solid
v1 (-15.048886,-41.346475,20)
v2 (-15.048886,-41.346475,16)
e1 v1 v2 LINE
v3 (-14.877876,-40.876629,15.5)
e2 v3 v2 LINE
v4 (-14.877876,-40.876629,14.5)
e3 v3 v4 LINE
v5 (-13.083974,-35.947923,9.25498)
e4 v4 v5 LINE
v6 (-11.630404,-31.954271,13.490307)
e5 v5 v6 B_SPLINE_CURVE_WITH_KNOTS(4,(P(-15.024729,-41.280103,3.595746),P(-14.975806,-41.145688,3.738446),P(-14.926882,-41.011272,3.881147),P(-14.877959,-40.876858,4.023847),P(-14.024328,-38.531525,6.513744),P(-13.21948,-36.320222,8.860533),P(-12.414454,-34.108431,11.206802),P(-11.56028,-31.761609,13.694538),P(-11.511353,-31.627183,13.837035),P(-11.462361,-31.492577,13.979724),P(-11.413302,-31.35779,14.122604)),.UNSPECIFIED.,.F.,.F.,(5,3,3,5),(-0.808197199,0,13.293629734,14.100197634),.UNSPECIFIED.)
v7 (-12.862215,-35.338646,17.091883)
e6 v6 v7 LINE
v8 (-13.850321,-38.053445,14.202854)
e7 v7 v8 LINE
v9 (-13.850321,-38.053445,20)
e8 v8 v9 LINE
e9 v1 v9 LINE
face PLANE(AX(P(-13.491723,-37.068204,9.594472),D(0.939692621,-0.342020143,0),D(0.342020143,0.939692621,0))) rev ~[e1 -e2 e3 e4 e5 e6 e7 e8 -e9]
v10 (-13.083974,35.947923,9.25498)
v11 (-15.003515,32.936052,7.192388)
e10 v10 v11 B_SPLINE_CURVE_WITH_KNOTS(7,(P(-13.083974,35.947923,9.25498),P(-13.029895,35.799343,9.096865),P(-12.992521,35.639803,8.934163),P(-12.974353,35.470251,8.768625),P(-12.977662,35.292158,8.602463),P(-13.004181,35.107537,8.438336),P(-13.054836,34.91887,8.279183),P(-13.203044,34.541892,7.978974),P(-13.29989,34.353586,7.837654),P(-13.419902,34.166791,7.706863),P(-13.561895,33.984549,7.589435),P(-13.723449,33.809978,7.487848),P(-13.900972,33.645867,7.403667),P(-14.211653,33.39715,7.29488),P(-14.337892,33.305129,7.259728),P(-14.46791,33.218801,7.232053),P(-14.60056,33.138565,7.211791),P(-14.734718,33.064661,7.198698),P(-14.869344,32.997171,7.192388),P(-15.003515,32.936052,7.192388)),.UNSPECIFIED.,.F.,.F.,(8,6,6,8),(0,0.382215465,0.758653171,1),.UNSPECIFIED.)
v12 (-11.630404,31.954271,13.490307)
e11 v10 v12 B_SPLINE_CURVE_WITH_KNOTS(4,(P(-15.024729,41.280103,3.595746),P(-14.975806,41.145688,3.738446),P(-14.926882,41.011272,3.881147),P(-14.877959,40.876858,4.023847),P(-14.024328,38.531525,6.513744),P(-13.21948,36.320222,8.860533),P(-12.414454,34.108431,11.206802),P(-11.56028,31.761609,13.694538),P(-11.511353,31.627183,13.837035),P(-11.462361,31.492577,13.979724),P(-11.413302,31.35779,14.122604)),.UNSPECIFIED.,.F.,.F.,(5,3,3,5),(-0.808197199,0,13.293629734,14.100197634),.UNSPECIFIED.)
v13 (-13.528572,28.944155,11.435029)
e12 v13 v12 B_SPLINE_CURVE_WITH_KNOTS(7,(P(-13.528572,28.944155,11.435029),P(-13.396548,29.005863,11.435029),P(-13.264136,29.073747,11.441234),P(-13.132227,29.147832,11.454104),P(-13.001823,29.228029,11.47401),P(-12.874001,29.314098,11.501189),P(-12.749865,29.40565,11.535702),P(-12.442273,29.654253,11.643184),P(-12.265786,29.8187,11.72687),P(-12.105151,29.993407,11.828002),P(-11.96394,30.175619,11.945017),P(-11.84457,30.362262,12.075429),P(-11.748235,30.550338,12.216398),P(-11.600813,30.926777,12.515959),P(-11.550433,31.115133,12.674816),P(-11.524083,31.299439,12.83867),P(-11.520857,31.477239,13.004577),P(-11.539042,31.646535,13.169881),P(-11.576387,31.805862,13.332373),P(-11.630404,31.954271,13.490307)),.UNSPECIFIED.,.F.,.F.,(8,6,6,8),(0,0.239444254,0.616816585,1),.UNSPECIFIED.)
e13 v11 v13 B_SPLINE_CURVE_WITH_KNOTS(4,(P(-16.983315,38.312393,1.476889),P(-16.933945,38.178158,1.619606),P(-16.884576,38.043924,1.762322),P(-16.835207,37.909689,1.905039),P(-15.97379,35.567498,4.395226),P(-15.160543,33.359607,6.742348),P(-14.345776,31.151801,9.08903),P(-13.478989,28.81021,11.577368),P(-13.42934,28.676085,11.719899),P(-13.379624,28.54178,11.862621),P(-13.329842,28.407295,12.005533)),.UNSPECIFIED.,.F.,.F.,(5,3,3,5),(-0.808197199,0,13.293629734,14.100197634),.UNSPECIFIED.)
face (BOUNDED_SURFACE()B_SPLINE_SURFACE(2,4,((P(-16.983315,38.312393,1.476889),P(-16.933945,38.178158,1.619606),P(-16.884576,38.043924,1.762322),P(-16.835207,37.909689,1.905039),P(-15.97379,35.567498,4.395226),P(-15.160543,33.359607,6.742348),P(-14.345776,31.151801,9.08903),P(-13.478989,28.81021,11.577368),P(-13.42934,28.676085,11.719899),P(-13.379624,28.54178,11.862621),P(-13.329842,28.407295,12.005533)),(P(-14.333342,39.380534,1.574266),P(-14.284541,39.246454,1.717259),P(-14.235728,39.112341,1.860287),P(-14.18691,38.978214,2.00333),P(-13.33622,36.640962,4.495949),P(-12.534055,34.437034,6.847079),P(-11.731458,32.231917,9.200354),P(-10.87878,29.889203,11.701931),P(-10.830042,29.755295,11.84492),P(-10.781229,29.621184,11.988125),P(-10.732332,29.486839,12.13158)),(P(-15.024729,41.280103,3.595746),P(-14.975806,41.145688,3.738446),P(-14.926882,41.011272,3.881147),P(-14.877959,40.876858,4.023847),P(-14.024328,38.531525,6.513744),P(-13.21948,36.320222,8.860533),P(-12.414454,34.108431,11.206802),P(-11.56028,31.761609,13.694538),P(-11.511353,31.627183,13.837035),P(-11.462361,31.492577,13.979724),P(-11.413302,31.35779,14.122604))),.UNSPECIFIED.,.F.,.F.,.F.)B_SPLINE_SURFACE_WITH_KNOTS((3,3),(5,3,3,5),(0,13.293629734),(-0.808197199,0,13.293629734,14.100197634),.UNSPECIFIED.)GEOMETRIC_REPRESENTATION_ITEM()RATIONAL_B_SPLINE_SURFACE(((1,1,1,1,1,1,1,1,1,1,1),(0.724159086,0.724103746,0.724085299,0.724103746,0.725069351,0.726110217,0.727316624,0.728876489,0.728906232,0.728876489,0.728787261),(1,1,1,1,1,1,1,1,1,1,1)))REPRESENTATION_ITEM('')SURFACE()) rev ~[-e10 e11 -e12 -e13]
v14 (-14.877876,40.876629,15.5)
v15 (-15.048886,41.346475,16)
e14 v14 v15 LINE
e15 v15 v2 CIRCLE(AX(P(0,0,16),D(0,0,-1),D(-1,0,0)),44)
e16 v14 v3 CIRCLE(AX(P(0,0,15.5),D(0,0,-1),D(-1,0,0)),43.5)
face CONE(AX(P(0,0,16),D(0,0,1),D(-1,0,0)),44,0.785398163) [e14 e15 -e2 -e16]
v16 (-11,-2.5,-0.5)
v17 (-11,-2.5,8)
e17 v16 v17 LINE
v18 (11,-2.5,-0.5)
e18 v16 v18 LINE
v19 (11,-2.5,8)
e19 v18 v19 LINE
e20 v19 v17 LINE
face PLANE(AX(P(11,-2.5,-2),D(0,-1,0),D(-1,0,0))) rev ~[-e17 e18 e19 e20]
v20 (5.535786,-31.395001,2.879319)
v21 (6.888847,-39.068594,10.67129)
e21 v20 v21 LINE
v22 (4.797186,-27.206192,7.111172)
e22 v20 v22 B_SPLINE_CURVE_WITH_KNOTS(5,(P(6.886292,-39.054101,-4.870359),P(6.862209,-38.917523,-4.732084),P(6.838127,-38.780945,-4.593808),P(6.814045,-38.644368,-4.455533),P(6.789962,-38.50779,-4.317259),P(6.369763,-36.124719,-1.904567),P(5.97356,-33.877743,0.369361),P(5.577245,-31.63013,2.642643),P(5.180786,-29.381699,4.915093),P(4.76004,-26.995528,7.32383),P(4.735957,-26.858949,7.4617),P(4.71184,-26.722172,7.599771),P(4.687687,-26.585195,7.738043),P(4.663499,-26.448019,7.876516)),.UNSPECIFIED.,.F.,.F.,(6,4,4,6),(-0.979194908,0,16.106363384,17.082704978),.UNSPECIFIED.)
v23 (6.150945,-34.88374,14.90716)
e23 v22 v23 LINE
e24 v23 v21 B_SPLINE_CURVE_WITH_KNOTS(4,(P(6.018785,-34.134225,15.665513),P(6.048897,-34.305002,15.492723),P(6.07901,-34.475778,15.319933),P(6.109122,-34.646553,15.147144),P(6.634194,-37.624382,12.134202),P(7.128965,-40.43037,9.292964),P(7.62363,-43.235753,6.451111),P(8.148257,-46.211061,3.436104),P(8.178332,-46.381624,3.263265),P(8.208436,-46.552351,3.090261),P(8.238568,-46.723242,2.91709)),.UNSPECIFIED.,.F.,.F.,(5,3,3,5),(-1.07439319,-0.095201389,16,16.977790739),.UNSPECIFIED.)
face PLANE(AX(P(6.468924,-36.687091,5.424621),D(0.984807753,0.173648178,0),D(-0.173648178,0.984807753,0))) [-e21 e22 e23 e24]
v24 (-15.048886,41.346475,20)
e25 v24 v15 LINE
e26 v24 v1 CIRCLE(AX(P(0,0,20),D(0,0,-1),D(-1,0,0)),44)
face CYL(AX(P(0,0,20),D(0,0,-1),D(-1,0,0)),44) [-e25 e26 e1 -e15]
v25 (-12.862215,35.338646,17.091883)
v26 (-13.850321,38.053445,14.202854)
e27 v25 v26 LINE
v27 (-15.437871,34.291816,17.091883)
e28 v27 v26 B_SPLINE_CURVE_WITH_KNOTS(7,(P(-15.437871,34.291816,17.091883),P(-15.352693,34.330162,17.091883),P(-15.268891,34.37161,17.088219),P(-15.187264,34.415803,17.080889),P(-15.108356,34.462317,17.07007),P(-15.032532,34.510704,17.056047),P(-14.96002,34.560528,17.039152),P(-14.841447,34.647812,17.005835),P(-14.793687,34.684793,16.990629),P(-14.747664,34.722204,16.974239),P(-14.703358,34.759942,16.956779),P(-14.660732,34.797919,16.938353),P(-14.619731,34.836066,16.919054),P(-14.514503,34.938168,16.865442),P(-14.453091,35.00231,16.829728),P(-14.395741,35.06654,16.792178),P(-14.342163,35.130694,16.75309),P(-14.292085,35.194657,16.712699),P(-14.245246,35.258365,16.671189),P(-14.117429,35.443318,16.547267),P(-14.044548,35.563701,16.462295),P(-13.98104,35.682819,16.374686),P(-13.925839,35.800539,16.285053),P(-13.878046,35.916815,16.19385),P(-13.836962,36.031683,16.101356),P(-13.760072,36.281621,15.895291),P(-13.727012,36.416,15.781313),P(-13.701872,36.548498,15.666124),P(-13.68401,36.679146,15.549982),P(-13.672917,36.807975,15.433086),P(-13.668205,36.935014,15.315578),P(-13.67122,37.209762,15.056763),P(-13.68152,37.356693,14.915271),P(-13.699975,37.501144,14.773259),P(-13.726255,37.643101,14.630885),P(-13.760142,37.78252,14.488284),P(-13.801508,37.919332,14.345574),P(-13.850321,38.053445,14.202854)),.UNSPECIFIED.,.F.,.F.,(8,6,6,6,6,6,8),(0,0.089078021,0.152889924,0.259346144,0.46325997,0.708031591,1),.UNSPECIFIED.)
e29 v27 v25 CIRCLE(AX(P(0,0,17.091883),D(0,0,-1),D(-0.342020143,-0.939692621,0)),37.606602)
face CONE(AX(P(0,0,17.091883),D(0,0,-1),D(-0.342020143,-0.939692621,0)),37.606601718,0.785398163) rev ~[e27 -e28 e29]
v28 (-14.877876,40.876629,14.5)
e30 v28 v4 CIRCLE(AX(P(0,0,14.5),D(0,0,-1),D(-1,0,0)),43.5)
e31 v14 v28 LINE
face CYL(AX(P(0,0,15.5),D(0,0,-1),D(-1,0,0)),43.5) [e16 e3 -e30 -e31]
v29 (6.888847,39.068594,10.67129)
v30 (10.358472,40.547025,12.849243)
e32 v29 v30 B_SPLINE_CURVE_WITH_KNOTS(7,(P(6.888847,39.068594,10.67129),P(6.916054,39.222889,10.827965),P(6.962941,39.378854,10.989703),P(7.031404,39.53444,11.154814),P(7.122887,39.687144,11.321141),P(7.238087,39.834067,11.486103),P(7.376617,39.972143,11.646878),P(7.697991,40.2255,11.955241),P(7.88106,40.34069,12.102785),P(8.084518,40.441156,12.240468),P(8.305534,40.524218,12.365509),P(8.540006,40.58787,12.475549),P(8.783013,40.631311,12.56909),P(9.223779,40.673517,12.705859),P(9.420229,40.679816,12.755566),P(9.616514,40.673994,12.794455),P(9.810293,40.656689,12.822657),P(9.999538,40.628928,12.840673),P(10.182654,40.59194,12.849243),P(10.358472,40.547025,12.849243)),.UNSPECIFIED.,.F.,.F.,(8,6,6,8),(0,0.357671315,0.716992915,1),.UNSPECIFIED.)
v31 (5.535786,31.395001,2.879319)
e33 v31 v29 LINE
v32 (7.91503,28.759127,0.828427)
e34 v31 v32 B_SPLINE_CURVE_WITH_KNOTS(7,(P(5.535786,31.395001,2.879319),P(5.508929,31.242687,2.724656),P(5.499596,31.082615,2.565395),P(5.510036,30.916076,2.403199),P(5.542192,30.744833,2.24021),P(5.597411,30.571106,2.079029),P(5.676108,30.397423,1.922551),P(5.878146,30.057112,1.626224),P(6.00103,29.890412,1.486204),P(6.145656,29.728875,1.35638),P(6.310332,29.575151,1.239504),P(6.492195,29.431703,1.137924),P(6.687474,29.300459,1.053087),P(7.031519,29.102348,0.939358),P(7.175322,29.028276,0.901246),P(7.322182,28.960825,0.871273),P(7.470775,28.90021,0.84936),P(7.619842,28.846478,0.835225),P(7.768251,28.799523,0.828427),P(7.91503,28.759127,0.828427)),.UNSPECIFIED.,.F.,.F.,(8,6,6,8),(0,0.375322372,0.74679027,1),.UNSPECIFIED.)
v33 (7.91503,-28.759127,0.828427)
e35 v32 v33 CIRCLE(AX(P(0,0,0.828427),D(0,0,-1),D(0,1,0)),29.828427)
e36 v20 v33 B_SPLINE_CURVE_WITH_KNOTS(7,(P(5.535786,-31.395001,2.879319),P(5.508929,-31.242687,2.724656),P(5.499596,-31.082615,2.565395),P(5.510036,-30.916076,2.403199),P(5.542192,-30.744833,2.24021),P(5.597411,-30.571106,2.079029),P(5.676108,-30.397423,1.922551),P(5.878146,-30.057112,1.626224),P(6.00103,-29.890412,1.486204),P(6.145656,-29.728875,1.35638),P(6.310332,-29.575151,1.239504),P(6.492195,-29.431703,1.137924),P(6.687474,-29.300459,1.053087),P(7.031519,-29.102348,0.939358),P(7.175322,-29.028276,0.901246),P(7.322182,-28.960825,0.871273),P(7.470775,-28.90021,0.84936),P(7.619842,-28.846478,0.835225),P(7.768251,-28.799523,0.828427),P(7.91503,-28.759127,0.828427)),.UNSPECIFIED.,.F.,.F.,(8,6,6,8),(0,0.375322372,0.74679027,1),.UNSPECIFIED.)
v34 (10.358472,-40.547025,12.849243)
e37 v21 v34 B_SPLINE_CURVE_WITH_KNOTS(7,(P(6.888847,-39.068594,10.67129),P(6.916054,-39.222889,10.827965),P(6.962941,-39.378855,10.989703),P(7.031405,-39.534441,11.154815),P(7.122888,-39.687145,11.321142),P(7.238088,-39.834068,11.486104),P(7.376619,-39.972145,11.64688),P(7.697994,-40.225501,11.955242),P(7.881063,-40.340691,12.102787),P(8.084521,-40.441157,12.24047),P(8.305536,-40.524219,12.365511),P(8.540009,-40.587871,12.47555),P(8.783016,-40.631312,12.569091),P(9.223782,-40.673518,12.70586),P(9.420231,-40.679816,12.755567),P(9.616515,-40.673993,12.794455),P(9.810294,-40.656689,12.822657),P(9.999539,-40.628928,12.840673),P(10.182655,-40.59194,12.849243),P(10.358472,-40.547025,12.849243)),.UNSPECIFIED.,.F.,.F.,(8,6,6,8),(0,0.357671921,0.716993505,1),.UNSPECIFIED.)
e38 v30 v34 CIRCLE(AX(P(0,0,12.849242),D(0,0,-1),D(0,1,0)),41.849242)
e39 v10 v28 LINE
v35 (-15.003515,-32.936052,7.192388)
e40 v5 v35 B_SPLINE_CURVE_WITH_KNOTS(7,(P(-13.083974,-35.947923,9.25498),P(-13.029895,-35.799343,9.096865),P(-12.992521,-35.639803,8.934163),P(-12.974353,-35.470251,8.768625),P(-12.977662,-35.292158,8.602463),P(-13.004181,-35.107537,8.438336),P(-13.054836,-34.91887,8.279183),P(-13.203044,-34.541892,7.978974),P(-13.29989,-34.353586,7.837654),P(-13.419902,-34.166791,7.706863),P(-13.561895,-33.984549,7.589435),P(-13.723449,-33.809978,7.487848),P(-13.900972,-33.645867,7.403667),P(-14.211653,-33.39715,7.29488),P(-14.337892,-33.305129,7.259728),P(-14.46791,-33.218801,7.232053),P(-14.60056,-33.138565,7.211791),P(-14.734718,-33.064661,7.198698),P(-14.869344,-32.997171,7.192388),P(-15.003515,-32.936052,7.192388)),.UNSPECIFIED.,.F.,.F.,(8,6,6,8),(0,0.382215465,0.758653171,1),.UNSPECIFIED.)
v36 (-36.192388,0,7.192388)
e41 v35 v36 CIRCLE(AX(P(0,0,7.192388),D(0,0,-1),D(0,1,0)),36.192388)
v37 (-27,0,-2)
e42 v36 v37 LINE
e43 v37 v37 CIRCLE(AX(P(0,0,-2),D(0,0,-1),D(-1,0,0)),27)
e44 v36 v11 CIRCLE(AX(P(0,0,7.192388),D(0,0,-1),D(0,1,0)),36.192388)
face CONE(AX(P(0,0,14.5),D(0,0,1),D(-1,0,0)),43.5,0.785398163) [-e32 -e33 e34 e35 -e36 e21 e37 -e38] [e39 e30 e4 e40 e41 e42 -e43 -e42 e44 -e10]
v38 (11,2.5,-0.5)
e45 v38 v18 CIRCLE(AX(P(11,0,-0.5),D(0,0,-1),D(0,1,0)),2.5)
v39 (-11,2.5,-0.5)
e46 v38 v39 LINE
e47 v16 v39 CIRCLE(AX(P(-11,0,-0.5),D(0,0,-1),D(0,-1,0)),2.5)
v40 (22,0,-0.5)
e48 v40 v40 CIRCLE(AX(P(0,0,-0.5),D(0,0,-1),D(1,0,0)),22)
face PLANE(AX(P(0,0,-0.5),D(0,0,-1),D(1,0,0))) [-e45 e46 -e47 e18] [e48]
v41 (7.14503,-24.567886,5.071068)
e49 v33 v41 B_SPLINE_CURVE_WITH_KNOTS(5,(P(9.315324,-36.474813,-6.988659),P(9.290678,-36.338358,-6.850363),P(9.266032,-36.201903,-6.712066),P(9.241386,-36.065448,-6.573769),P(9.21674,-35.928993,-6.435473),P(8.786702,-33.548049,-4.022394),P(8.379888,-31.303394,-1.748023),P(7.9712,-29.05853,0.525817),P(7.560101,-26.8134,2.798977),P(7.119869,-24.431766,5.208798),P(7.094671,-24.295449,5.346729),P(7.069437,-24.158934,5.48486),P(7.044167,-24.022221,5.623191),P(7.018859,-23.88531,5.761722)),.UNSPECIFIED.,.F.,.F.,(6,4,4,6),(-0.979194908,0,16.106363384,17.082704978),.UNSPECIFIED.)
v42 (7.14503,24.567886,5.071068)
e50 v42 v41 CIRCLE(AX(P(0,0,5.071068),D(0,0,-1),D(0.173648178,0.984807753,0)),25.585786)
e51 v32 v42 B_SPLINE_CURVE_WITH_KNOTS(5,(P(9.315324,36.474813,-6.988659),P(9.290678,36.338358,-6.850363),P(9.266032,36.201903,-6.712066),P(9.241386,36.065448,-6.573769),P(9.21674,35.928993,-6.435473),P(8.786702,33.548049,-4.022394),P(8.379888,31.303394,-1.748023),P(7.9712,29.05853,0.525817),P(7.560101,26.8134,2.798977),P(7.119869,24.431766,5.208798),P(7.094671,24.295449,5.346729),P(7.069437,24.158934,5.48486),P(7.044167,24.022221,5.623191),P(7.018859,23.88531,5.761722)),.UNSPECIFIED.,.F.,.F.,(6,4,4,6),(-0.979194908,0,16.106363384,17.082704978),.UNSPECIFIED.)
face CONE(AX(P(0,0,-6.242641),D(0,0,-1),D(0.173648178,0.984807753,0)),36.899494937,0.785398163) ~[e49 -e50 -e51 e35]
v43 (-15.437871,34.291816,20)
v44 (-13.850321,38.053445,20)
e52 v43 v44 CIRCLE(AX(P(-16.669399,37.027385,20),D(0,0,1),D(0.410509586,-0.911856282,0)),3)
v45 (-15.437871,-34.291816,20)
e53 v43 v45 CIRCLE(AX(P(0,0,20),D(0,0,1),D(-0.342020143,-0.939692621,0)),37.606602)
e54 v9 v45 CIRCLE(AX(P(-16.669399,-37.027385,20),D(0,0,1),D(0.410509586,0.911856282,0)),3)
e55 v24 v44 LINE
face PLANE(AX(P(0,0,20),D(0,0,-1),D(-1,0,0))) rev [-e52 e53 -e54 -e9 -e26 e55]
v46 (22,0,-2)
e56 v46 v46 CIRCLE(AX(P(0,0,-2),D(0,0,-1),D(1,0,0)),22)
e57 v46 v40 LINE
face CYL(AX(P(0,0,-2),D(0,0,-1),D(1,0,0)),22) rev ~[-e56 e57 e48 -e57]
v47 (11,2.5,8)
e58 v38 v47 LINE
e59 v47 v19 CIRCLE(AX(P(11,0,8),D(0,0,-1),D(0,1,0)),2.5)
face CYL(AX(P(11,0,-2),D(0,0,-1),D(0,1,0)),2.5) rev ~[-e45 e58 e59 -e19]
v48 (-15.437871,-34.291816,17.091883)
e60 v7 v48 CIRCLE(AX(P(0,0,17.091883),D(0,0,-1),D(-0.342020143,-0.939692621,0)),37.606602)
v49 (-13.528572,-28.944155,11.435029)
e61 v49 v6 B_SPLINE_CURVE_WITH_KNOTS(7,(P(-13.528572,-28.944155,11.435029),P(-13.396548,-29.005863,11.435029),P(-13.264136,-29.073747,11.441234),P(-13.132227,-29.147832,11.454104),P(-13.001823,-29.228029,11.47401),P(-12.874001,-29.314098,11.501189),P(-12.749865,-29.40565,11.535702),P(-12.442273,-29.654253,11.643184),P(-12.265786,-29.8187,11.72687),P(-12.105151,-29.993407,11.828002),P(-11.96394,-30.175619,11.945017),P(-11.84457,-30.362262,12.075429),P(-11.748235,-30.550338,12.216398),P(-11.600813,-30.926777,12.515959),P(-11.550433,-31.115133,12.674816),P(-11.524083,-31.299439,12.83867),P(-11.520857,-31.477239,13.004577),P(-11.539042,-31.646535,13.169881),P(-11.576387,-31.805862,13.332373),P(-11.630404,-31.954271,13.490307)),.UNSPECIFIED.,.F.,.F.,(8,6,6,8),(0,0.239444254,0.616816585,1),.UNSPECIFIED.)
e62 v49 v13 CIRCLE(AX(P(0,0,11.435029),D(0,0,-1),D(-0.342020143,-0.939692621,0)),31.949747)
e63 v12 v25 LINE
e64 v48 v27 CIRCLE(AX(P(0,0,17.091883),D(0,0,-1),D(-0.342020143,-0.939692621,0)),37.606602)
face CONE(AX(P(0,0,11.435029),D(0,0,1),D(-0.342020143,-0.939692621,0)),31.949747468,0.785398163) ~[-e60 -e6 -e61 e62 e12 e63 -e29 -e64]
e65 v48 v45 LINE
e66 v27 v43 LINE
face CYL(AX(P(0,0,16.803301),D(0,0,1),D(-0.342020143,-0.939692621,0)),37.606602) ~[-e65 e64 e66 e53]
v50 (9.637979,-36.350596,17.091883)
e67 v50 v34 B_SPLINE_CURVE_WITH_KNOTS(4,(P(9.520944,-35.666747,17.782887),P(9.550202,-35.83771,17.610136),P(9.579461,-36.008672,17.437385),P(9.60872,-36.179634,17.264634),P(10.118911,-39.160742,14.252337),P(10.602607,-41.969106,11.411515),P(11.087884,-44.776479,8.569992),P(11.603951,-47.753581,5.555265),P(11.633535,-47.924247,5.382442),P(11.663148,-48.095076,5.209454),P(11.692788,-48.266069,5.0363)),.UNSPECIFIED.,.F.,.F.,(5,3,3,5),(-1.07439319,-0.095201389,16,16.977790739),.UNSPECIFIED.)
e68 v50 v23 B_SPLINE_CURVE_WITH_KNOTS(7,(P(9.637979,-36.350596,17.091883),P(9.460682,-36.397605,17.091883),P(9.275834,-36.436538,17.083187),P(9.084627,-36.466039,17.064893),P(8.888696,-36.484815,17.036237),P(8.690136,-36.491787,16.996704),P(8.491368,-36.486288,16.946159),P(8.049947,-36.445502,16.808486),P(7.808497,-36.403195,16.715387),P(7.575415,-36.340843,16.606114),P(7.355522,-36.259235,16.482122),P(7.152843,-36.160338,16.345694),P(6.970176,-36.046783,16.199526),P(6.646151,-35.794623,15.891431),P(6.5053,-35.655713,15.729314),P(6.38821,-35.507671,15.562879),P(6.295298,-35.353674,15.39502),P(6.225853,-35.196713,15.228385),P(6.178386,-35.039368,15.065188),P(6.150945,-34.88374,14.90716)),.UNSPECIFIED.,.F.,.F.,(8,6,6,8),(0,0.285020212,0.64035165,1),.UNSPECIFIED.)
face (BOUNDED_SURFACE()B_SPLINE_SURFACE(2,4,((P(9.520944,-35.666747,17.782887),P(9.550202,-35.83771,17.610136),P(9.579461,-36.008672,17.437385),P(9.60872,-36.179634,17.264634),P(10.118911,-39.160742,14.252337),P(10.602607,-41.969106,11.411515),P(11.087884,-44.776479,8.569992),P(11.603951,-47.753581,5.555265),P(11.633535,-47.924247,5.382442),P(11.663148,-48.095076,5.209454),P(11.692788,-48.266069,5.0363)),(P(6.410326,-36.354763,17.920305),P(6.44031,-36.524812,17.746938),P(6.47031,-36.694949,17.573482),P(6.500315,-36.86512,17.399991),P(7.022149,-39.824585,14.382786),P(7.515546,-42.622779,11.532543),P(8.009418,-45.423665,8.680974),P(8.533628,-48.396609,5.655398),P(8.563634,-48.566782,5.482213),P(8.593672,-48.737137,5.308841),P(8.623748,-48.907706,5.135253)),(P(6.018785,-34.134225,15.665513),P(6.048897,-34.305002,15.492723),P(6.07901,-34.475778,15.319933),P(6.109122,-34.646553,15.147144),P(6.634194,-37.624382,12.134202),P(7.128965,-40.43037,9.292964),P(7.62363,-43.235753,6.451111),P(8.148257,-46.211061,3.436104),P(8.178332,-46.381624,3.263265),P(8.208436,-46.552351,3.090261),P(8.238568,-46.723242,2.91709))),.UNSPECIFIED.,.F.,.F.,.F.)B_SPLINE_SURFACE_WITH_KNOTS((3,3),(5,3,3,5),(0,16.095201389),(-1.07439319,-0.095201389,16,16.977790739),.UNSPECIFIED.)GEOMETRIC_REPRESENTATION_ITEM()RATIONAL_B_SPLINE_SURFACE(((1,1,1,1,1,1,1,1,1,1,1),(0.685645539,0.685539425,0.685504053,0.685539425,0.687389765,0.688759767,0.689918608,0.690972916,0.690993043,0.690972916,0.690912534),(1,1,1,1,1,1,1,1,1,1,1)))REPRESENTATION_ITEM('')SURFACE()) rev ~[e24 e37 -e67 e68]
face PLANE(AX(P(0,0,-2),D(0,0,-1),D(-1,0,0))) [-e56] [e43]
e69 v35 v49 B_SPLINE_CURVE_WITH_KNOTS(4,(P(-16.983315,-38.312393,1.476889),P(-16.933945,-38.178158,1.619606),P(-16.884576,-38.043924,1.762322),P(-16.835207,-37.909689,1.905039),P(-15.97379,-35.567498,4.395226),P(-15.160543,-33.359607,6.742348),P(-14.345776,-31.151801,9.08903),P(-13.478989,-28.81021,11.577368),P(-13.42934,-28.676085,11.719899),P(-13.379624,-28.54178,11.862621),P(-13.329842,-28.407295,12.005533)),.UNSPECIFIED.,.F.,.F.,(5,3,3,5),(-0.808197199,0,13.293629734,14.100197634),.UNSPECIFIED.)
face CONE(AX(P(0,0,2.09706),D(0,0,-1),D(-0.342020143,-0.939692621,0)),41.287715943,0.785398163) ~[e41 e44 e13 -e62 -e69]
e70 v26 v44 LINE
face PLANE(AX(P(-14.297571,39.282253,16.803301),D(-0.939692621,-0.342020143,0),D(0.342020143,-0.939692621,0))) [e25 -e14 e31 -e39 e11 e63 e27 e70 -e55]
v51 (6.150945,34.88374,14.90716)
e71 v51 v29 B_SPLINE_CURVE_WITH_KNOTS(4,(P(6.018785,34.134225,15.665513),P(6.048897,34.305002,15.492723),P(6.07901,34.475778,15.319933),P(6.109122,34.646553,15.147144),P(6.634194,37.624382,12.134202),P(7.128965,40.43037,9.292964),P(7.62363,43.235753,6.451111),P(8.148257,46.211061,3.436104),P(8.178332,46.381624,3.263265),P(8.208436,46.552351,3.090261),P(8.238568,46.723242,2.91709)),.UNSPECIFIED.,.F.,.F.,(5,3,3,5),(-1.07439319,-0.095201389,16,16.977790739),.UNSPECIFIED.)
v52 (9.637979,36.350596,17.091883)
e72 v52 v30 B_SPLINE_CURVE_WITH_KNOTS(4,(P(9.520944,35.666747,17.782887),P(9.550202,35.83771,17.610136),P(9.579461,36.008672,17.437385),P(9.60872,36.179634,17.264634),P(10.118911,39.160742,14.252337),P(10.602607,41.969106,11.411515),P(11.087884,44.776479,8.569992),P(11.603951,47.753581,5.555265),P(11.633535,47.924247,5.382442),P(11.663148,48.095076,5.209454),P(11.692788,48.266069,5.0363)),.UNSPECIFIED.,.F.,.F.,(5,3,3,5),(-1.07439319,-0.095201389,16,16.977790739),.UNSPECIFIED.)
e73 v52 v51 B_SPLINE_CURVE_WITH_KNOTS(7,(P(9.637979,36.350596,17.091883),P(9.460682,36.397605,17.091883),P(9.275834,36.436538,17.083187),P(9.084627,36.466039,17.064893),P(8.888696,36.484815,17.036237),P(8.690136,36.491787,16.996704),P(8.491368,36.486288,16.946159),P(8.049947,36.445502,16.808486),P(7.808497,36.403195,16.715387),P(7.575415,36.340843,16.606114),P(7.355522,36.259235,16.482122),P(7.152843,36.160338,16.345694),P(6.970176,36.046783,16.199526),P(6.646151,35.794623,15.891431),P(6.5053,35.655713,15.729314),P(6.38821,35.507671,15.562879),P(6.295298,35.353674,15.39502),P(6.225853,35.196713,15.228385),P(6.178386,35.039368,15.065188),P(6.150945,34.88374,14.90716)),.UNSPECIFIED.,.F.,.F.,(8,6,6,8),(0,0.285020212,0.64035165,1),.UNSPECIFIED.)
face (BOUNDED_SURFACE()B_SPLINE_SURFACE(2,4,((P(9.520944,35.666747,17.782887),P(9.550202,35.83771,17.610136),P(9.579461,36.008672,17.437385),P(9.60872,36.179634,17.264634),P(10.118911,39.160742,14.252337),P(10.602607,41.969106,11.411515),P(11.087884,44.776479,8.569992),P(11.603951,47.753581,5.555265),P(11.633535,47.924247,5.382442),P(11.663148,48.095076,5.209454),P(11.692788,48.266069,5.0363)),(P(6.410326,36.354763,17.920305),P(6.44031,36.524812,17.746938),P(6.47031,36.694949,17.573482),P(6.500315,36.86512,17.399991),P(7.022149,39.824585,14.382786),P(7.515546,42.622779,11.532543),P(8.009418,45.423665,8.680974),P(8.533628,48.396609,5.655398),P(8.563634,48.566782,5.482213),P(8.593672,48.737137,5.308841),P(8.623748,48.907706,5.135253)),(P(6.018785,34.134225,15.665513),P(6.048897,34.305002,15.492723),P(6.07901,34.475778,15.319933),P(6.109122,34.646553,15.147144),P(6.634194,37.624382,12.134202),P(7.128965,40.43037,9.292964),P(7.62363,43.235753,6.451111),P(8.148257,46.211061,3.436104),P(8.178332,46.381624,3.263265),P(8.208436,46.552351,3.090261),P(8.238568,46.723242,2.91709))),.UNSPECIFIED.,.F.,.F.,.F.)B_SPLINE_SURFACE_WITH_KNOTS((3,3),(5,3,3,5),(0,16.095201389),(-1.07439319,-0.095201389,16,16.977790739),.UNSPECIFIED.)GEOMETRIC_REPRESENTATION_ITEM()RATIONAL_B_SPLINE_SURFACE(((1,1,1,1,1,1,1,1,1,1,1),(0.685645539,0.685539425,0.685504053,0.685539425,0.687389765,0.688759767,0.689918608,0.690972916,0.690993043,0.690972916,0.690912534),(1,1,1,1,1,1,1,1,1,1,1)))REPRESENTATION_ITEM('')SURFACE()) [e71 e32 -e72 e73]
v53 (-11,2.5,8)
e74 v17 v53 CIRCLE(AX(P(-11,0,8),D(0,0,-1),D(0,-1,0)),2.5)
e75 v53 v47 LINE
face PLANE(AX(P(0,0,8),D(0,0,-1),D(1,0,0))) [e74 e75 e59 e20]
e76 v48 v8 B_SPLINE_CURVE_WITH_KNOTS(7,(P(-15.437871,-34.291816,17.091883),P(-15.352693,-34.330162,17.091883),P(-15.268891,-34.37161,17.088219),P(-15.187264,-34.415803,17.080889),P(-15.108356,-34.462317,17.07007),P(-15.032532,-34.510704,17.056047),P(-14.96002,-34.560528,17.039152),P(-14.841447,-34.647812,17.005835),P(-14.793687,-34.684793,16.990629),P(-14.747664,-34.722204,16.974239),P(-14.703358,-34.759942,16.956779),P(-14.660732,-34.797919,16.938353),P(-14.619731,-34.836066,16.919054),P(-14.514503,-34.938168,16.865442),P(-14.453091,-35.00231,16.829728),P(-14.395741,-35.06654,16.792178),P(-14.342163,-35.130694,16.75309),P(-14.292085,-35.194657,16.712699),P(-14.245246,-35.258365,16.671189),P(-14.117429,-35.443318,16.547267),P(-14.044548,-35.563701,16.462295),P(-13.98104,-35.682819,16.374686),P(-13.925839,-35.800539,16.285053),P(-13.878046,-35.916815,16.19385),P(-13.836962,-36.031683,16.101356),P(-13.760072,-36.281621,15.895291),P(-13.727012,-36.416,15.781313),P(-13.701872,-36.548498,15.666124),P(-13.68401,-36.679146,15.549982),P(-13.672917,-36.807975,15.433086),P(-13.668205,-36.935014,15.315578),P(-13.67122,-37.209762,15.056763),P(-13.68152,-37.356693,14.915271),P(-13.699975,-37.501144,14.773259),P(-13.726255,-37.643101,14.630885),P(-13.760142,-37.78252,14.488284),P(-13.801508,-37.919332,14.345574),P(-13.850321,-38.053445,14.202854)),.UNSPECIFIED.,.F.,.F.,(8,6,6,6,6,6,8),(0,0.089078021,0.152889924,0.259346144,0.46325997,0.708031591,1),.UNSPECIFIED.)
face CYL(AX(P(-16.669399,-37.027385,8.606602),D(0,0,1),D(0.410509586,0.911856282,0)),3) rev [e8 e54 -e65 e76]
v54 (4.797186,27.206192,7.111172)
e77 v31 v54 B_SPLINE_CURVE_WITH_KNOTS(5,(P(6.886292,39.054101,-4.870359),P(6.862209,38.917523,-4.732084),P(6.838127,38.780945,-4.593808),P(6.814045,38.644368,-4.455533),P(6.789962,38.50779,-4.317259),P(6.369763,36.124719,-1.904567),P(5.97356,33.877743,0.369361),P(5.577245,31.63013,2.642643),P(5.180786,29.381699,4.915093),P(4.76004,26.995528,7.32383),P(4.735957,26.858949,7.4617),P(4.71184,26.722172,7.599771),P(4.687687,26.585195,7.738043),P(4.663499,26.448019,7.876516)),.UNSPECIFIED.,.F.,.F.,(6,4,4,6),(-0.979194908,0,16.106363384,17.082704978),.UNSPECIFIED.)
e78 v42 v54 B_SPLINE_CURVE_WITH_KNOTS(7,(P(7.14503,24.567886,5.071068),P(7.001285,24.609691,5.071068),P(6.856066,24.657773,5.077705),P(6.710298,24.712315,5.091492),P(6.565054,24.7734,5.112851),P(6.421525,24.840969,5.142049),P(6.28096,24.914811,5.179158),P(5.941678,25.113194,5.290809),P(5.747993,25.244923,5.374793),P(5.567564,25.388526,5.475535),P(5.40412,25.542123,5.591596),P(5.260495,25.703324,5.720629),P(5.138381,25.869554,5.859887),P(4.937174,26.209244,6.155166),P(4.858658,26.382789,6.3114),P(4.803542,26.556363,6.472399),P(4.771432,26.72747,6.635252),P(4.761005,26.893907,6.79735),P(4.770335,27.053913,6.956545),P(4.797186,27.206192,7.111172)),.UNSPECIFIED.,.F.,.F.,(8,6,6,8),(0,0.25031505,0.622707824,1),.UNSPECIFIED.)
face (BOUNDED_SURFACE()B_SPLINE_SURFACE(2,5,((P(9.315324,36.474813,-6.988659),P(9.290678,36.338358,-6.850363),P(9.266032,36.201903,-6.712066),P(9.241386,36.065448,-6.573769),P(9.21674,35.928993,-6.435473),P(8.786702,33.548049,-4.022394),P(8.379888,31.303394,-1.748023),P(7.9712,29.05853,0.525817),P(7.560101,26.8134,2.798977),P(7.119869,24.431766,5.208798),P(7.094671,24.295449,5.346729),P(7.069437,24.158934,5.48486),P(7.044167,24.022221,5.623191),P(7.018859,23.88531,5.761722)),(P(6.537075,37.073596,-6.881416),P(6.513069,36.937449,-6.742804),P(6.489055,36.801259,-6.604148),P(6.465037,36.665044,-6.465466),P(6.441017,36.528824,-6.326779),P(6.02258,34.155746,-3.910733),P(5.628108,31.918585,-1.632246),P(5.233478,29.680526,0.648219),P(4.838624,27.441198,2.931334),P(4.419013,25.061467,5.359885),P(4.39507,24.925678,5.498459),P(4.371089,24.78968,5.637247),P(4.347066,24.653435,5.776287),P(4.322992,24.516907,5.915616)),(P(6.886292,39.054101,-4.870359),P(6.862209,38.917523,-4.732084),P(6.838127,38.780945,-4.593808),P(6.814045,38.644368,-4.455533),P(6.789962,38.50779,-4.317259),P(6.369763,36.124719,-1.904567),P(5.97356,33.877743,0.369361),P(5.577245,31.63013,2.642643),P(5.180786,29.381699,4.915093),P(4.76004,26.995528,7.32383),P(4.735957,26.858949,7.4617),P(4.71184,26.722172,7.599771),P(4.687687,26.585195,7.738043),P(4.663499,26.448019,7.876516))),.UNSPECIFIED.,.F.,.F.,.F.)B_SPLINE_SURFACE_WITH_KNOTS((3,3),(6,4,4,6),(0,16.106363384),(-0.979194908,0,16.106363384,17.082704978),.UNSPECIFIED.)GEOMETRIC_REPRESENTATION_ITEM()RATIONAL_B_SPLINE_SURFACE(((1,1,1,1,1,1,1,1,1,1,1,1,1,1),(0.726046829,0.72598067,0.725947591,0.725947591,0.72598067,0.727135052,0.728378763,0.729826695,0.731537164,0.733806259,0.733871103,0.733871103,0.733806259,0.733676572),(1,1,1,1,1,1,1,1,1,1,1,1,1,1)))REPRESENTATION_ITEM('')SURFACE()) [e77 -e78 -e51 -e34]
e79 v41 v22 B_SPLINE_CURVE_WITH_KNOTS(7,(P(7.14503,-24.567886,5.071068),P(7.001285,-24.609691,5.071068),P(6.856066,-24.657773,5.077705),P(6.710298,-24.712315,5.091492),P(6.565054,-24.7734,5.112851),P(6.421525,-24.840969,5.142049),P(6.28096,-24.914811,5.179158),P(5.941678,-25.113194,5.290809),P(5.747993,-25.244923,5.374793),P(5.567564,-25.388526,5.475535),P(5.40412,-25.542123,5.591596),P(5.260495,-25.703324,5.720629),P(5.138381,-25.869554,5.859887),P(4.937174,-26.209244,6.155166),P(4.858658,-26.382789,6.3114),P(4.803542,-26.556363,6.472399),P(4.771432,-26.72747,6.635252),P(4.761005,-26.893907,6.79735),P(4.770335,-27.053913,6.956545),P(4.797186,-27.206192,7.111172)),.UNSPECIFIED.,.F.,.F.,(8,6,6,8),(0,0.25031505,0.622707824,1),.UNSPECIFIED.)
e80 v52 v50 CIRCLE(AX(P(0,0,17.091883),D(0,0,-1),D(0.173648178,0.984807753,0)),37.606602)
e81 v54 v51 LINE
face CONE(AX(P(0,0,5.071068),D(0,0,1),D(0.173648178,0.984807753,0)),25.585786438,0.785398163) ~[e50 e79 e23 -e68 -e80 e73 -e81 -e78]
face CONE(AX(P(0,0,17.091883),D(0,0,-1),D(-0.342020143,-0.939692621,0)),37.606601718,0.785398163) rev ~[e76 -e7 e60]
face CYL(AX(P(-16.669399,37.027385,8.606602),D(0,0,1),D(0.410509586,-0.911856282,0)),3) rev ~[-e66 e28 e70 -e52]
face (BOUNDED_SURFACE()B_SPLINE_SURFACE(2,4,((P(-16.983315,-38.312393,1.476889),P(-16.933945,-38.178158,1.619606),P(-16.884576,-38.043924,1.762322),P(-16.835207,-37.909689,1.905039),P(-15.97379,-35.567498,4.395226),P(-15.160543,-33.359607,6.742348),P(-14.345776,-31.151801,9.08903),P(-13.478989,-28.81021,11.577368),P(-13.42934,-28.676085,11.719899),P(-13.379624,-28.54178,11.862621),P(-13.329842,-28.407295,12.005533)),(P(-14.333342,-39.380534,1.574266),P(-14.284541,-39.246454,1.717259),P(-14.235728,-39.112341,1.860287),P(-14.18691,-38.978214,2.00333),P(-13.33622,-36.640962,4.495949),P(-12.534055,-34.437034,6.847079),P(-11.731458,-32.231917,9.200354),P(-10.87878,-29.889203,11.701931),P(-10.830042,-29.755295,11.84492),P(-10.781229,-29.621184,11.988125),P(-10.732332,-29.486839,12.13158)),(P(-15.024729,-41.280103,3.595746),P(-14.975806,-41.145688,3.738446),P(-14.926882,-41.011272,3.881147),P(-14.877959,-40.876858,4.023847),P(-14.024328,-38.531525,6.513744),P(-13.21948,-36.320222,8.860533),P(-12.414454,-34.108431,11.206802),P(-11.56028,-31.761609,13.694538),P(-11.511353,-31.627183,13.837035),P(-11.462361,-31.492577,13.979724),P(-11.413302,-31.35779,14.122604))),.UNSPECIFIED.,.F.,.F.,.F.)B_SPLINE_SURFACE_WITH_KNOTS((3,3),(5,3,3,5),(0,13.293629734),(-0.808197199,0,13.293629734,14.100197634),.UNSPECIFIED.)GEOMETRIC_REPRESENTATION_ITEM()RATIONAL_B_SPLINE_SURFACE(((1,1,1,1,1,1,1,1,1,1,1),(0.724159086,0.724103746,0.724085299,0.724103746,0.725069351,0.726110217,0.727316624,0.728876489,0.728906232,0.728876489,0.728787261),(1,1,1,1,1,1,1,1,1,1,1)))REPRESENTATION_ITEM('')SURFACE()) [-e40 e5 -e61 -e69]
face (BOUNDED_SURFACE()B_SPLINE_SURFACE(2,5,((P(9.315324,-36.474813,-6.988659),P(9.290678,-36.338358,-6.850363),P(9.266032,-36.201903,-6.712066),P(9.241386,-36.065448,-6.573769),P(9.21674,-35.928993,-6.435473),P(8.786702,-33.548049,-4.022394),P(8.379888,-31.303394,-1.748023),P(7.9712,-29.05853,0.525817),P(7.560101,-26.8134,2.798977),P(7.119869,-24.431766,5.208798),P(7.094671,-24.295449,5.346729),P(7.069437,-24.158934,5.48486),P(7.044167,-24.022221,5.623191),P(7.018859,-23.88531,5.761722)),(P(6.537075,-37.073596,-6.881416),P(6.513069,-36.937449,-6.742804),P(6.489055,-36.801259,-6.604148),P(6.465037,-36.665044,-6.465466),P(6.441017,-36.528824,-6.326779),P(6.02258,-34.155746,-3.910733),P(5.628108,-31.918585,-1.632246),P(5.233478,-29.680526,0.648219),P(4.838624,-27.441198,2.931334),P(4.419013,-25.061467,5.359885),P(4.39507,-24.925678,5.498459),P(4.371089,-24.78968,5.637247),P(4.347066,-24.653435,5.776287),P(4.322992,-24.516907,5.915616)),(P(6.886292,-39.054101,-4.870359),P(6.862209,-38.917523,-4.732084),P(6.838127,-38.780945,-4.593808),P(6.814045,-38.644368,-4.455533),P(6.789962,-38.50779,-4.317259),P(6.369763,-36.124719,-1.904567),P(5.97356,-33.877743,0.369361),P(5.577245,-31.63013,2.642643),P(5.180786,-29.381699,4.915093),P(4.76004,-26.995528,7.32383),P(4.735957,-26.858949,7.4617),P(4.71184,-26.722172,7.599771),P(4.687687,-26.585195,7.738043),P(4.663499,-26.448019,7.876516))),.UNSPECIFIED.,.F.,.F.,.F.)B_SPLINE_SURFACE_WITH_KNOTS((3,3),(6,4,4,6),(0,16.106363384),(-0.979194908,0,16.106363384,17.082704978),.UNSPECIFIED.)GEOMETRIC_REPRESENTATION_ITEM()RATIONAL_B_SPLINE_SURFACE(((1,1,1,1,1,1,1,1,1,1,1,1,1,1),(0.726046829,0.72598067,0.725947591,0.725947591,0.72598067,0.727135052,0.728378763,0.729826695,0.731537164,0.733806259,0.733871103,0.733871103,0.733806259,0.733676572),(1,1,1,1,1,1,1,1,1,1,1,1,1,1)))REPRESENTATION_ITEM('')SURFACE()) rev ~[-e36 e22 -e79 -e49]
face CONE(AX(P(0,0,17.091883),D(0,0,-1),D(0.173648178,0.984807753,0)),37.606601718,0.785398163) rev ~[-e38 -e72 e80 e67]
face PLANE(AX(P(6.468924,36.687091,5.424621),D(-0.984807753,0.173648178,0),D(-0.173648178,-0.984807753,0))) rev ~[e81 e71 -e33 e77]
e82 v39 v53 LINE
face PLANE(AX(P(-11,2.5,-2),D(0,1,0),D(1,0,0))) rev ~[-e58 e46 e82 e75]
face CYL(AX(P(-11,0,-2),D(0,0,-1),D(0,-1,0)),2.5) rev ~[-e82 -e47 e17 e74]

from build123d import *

# Parameters (mm, degrees)
F3_W           = 8.3933982822
F3_H           = 16.3933982822
F4_ANGLE_BACK  = 70
F4_ANGLE       = 140
F6_ANGLE_START = 100
F6_ANGLE       = 160
F7_ANGLE_BACK  = 70
F7_ANGLE       = 140
F8_R           = 3
F8_2_R         = 3
F9_R           = 3
F13_DEPTH      = 10
F14_R          = 22
F15_DEPTH      = 1.5


with BuildPart() as f1:
    # F0 (on Front) → F1 (revolve)
    with BuildSketch(Plane.XZ):
        Polygon((-43.5, 14.5), (-27, -2), (0, -2), (0, 20), (-44, 20), (-44, 16), (-43.5, 15.5), align=None)
    revolve(axis=Axis((0, 0, 9.4880101401), (0, 0, -1)))


with BuildPart() as f4:
    # F3 (on Front) → F4 (revolve)
    with BuildSketch(Plane.XZ, mode=Mode.PRIVATE) as f4_sk:
        with Locations((-41.8033008589, 16.8033008589)):
            Rectangle(F3_W, F3_H)
    revolve(f4_sk.sketch.rotate(Axis((0, 0, 9.4880101401), (0, 0, -1)), -F4_ANGLE_BACK), axis=Axis((0, 0, 9.4880101401), (0, 0, -1)), revolution_arc=F4_ANGLE)

    # F8#2
    f8_2_edges = [f4.edges().sort_by_distance(p)[0] for p in [
        (-12.862215, 35.338646, 16.803301),
        (-12.862215, -35.338646, 16.803301),
    ]]
    fillet(f8_2_edges, radius=F8_2_R)


with BuildPart() as f6:
    # F5 (on Front) → F6 (revolve)
    with BuildSketch(Plane.XZ, mode=Mode.PRIVATE) as f6_sk:
        Polygon((-36.8994949366, -6.2426406871), (-25.5857864376, 5.0710678119), (-37.6066017178, 17.091883092), (-48.9203102168, 5.7781745931), align=None)
    revolve(f6_sk.sketch.rotate(Axis((0, 0, 9), (0, 0, -1)), F6_ANGLE_START), axis=Axis((0, 0, 9), (0, 0, -1)), revolution_arc=F6_ANGLE)

    # F9
    f9_edges = [f6.edges().sort_by_distance(p)[0] for p in [
        (5.425228, 30.767995, -0.585786),
        (7.51262, 42.606187, 11.435029),
        (7.51262, -42.606187, 11.435029),
        (5.425228, -30.767995, -0.585786),
    ]]
    fillet(f9_edges, radius=F9_R)


with BuildPart() as f7:
    # F2 (on Front) → F7 (revolve)
    with BuildSketch(Plane.XZ, mode=Mode.PRIVATE) as f7_sk:
        Polygon((-41.2877159425, 2.0970603683), (-31.9497474683, 11.4350288425), (-37.6066017178, 17.091883092), (-46.944570192, 7.7539146178), align=None)
    revolve(f7_sk.sketch.rotate(Axis((0, 0, 9), (0, 0, -1)), -F7_ANGLE_BACK), axis=Axis((0, 0, 9), (0, 0, -1)), revolution_arc=F7_ANGLE)

    # F8
    f8_edges = [f7.edges().sort_by_distance(p)[0] for p in [
        (-12.524344, -34.410352, 6.766045),
        (-12.524344, 34.410352, 6.766045),
    ]]
    fillet(f8_edges, radius=F8_R)


with BuildPart() as f1_1:
    add(f1.part)

    # F10: cut F7, F4, F6
    add(f7.part, mode=Mode.SUBTRACT)
    add(f4.part, mode=Mode.SUBTRACT)
    add(f6.part, mode=Mode.SUBTRACT)

    # F12 (on offset) → F13 (cut)
    with BuildSketch(Plane(origin=(0, 0, -2), x_dir=(1, 0, 0), z_dir=(0, 0, -1))):
        with BuildLine():
            ThreePointArc((-11, 2.5), (-13.5, 0), (-11, -2.5))
            Line((-11, -2.5), (0, -2.5))
            Line((0, -2.5), (11, -2.5))
            ThreePointArc((11, -2.5), (13.5, 0), (11, 2.5))
            Line((11, 2.5), (0, 2.5))
            Line((0, 2.5), (-11, 2.5))
        make_face()
    extrude(amount=-F13_DEPTH, mode=Mode.SUBTRACT)

    # F14 (on offset) → F15 (cut)
    with BuildSketch(Plane(origin=(0, 0, -2), x_dir=(1, 0, 0), z_dir=(0, 0, -1))):
        Circle(F14_R)
    extrude(amount=-F15_DEPTH, mode=Mode.SUBTRACT)


solid = f1_1.part
